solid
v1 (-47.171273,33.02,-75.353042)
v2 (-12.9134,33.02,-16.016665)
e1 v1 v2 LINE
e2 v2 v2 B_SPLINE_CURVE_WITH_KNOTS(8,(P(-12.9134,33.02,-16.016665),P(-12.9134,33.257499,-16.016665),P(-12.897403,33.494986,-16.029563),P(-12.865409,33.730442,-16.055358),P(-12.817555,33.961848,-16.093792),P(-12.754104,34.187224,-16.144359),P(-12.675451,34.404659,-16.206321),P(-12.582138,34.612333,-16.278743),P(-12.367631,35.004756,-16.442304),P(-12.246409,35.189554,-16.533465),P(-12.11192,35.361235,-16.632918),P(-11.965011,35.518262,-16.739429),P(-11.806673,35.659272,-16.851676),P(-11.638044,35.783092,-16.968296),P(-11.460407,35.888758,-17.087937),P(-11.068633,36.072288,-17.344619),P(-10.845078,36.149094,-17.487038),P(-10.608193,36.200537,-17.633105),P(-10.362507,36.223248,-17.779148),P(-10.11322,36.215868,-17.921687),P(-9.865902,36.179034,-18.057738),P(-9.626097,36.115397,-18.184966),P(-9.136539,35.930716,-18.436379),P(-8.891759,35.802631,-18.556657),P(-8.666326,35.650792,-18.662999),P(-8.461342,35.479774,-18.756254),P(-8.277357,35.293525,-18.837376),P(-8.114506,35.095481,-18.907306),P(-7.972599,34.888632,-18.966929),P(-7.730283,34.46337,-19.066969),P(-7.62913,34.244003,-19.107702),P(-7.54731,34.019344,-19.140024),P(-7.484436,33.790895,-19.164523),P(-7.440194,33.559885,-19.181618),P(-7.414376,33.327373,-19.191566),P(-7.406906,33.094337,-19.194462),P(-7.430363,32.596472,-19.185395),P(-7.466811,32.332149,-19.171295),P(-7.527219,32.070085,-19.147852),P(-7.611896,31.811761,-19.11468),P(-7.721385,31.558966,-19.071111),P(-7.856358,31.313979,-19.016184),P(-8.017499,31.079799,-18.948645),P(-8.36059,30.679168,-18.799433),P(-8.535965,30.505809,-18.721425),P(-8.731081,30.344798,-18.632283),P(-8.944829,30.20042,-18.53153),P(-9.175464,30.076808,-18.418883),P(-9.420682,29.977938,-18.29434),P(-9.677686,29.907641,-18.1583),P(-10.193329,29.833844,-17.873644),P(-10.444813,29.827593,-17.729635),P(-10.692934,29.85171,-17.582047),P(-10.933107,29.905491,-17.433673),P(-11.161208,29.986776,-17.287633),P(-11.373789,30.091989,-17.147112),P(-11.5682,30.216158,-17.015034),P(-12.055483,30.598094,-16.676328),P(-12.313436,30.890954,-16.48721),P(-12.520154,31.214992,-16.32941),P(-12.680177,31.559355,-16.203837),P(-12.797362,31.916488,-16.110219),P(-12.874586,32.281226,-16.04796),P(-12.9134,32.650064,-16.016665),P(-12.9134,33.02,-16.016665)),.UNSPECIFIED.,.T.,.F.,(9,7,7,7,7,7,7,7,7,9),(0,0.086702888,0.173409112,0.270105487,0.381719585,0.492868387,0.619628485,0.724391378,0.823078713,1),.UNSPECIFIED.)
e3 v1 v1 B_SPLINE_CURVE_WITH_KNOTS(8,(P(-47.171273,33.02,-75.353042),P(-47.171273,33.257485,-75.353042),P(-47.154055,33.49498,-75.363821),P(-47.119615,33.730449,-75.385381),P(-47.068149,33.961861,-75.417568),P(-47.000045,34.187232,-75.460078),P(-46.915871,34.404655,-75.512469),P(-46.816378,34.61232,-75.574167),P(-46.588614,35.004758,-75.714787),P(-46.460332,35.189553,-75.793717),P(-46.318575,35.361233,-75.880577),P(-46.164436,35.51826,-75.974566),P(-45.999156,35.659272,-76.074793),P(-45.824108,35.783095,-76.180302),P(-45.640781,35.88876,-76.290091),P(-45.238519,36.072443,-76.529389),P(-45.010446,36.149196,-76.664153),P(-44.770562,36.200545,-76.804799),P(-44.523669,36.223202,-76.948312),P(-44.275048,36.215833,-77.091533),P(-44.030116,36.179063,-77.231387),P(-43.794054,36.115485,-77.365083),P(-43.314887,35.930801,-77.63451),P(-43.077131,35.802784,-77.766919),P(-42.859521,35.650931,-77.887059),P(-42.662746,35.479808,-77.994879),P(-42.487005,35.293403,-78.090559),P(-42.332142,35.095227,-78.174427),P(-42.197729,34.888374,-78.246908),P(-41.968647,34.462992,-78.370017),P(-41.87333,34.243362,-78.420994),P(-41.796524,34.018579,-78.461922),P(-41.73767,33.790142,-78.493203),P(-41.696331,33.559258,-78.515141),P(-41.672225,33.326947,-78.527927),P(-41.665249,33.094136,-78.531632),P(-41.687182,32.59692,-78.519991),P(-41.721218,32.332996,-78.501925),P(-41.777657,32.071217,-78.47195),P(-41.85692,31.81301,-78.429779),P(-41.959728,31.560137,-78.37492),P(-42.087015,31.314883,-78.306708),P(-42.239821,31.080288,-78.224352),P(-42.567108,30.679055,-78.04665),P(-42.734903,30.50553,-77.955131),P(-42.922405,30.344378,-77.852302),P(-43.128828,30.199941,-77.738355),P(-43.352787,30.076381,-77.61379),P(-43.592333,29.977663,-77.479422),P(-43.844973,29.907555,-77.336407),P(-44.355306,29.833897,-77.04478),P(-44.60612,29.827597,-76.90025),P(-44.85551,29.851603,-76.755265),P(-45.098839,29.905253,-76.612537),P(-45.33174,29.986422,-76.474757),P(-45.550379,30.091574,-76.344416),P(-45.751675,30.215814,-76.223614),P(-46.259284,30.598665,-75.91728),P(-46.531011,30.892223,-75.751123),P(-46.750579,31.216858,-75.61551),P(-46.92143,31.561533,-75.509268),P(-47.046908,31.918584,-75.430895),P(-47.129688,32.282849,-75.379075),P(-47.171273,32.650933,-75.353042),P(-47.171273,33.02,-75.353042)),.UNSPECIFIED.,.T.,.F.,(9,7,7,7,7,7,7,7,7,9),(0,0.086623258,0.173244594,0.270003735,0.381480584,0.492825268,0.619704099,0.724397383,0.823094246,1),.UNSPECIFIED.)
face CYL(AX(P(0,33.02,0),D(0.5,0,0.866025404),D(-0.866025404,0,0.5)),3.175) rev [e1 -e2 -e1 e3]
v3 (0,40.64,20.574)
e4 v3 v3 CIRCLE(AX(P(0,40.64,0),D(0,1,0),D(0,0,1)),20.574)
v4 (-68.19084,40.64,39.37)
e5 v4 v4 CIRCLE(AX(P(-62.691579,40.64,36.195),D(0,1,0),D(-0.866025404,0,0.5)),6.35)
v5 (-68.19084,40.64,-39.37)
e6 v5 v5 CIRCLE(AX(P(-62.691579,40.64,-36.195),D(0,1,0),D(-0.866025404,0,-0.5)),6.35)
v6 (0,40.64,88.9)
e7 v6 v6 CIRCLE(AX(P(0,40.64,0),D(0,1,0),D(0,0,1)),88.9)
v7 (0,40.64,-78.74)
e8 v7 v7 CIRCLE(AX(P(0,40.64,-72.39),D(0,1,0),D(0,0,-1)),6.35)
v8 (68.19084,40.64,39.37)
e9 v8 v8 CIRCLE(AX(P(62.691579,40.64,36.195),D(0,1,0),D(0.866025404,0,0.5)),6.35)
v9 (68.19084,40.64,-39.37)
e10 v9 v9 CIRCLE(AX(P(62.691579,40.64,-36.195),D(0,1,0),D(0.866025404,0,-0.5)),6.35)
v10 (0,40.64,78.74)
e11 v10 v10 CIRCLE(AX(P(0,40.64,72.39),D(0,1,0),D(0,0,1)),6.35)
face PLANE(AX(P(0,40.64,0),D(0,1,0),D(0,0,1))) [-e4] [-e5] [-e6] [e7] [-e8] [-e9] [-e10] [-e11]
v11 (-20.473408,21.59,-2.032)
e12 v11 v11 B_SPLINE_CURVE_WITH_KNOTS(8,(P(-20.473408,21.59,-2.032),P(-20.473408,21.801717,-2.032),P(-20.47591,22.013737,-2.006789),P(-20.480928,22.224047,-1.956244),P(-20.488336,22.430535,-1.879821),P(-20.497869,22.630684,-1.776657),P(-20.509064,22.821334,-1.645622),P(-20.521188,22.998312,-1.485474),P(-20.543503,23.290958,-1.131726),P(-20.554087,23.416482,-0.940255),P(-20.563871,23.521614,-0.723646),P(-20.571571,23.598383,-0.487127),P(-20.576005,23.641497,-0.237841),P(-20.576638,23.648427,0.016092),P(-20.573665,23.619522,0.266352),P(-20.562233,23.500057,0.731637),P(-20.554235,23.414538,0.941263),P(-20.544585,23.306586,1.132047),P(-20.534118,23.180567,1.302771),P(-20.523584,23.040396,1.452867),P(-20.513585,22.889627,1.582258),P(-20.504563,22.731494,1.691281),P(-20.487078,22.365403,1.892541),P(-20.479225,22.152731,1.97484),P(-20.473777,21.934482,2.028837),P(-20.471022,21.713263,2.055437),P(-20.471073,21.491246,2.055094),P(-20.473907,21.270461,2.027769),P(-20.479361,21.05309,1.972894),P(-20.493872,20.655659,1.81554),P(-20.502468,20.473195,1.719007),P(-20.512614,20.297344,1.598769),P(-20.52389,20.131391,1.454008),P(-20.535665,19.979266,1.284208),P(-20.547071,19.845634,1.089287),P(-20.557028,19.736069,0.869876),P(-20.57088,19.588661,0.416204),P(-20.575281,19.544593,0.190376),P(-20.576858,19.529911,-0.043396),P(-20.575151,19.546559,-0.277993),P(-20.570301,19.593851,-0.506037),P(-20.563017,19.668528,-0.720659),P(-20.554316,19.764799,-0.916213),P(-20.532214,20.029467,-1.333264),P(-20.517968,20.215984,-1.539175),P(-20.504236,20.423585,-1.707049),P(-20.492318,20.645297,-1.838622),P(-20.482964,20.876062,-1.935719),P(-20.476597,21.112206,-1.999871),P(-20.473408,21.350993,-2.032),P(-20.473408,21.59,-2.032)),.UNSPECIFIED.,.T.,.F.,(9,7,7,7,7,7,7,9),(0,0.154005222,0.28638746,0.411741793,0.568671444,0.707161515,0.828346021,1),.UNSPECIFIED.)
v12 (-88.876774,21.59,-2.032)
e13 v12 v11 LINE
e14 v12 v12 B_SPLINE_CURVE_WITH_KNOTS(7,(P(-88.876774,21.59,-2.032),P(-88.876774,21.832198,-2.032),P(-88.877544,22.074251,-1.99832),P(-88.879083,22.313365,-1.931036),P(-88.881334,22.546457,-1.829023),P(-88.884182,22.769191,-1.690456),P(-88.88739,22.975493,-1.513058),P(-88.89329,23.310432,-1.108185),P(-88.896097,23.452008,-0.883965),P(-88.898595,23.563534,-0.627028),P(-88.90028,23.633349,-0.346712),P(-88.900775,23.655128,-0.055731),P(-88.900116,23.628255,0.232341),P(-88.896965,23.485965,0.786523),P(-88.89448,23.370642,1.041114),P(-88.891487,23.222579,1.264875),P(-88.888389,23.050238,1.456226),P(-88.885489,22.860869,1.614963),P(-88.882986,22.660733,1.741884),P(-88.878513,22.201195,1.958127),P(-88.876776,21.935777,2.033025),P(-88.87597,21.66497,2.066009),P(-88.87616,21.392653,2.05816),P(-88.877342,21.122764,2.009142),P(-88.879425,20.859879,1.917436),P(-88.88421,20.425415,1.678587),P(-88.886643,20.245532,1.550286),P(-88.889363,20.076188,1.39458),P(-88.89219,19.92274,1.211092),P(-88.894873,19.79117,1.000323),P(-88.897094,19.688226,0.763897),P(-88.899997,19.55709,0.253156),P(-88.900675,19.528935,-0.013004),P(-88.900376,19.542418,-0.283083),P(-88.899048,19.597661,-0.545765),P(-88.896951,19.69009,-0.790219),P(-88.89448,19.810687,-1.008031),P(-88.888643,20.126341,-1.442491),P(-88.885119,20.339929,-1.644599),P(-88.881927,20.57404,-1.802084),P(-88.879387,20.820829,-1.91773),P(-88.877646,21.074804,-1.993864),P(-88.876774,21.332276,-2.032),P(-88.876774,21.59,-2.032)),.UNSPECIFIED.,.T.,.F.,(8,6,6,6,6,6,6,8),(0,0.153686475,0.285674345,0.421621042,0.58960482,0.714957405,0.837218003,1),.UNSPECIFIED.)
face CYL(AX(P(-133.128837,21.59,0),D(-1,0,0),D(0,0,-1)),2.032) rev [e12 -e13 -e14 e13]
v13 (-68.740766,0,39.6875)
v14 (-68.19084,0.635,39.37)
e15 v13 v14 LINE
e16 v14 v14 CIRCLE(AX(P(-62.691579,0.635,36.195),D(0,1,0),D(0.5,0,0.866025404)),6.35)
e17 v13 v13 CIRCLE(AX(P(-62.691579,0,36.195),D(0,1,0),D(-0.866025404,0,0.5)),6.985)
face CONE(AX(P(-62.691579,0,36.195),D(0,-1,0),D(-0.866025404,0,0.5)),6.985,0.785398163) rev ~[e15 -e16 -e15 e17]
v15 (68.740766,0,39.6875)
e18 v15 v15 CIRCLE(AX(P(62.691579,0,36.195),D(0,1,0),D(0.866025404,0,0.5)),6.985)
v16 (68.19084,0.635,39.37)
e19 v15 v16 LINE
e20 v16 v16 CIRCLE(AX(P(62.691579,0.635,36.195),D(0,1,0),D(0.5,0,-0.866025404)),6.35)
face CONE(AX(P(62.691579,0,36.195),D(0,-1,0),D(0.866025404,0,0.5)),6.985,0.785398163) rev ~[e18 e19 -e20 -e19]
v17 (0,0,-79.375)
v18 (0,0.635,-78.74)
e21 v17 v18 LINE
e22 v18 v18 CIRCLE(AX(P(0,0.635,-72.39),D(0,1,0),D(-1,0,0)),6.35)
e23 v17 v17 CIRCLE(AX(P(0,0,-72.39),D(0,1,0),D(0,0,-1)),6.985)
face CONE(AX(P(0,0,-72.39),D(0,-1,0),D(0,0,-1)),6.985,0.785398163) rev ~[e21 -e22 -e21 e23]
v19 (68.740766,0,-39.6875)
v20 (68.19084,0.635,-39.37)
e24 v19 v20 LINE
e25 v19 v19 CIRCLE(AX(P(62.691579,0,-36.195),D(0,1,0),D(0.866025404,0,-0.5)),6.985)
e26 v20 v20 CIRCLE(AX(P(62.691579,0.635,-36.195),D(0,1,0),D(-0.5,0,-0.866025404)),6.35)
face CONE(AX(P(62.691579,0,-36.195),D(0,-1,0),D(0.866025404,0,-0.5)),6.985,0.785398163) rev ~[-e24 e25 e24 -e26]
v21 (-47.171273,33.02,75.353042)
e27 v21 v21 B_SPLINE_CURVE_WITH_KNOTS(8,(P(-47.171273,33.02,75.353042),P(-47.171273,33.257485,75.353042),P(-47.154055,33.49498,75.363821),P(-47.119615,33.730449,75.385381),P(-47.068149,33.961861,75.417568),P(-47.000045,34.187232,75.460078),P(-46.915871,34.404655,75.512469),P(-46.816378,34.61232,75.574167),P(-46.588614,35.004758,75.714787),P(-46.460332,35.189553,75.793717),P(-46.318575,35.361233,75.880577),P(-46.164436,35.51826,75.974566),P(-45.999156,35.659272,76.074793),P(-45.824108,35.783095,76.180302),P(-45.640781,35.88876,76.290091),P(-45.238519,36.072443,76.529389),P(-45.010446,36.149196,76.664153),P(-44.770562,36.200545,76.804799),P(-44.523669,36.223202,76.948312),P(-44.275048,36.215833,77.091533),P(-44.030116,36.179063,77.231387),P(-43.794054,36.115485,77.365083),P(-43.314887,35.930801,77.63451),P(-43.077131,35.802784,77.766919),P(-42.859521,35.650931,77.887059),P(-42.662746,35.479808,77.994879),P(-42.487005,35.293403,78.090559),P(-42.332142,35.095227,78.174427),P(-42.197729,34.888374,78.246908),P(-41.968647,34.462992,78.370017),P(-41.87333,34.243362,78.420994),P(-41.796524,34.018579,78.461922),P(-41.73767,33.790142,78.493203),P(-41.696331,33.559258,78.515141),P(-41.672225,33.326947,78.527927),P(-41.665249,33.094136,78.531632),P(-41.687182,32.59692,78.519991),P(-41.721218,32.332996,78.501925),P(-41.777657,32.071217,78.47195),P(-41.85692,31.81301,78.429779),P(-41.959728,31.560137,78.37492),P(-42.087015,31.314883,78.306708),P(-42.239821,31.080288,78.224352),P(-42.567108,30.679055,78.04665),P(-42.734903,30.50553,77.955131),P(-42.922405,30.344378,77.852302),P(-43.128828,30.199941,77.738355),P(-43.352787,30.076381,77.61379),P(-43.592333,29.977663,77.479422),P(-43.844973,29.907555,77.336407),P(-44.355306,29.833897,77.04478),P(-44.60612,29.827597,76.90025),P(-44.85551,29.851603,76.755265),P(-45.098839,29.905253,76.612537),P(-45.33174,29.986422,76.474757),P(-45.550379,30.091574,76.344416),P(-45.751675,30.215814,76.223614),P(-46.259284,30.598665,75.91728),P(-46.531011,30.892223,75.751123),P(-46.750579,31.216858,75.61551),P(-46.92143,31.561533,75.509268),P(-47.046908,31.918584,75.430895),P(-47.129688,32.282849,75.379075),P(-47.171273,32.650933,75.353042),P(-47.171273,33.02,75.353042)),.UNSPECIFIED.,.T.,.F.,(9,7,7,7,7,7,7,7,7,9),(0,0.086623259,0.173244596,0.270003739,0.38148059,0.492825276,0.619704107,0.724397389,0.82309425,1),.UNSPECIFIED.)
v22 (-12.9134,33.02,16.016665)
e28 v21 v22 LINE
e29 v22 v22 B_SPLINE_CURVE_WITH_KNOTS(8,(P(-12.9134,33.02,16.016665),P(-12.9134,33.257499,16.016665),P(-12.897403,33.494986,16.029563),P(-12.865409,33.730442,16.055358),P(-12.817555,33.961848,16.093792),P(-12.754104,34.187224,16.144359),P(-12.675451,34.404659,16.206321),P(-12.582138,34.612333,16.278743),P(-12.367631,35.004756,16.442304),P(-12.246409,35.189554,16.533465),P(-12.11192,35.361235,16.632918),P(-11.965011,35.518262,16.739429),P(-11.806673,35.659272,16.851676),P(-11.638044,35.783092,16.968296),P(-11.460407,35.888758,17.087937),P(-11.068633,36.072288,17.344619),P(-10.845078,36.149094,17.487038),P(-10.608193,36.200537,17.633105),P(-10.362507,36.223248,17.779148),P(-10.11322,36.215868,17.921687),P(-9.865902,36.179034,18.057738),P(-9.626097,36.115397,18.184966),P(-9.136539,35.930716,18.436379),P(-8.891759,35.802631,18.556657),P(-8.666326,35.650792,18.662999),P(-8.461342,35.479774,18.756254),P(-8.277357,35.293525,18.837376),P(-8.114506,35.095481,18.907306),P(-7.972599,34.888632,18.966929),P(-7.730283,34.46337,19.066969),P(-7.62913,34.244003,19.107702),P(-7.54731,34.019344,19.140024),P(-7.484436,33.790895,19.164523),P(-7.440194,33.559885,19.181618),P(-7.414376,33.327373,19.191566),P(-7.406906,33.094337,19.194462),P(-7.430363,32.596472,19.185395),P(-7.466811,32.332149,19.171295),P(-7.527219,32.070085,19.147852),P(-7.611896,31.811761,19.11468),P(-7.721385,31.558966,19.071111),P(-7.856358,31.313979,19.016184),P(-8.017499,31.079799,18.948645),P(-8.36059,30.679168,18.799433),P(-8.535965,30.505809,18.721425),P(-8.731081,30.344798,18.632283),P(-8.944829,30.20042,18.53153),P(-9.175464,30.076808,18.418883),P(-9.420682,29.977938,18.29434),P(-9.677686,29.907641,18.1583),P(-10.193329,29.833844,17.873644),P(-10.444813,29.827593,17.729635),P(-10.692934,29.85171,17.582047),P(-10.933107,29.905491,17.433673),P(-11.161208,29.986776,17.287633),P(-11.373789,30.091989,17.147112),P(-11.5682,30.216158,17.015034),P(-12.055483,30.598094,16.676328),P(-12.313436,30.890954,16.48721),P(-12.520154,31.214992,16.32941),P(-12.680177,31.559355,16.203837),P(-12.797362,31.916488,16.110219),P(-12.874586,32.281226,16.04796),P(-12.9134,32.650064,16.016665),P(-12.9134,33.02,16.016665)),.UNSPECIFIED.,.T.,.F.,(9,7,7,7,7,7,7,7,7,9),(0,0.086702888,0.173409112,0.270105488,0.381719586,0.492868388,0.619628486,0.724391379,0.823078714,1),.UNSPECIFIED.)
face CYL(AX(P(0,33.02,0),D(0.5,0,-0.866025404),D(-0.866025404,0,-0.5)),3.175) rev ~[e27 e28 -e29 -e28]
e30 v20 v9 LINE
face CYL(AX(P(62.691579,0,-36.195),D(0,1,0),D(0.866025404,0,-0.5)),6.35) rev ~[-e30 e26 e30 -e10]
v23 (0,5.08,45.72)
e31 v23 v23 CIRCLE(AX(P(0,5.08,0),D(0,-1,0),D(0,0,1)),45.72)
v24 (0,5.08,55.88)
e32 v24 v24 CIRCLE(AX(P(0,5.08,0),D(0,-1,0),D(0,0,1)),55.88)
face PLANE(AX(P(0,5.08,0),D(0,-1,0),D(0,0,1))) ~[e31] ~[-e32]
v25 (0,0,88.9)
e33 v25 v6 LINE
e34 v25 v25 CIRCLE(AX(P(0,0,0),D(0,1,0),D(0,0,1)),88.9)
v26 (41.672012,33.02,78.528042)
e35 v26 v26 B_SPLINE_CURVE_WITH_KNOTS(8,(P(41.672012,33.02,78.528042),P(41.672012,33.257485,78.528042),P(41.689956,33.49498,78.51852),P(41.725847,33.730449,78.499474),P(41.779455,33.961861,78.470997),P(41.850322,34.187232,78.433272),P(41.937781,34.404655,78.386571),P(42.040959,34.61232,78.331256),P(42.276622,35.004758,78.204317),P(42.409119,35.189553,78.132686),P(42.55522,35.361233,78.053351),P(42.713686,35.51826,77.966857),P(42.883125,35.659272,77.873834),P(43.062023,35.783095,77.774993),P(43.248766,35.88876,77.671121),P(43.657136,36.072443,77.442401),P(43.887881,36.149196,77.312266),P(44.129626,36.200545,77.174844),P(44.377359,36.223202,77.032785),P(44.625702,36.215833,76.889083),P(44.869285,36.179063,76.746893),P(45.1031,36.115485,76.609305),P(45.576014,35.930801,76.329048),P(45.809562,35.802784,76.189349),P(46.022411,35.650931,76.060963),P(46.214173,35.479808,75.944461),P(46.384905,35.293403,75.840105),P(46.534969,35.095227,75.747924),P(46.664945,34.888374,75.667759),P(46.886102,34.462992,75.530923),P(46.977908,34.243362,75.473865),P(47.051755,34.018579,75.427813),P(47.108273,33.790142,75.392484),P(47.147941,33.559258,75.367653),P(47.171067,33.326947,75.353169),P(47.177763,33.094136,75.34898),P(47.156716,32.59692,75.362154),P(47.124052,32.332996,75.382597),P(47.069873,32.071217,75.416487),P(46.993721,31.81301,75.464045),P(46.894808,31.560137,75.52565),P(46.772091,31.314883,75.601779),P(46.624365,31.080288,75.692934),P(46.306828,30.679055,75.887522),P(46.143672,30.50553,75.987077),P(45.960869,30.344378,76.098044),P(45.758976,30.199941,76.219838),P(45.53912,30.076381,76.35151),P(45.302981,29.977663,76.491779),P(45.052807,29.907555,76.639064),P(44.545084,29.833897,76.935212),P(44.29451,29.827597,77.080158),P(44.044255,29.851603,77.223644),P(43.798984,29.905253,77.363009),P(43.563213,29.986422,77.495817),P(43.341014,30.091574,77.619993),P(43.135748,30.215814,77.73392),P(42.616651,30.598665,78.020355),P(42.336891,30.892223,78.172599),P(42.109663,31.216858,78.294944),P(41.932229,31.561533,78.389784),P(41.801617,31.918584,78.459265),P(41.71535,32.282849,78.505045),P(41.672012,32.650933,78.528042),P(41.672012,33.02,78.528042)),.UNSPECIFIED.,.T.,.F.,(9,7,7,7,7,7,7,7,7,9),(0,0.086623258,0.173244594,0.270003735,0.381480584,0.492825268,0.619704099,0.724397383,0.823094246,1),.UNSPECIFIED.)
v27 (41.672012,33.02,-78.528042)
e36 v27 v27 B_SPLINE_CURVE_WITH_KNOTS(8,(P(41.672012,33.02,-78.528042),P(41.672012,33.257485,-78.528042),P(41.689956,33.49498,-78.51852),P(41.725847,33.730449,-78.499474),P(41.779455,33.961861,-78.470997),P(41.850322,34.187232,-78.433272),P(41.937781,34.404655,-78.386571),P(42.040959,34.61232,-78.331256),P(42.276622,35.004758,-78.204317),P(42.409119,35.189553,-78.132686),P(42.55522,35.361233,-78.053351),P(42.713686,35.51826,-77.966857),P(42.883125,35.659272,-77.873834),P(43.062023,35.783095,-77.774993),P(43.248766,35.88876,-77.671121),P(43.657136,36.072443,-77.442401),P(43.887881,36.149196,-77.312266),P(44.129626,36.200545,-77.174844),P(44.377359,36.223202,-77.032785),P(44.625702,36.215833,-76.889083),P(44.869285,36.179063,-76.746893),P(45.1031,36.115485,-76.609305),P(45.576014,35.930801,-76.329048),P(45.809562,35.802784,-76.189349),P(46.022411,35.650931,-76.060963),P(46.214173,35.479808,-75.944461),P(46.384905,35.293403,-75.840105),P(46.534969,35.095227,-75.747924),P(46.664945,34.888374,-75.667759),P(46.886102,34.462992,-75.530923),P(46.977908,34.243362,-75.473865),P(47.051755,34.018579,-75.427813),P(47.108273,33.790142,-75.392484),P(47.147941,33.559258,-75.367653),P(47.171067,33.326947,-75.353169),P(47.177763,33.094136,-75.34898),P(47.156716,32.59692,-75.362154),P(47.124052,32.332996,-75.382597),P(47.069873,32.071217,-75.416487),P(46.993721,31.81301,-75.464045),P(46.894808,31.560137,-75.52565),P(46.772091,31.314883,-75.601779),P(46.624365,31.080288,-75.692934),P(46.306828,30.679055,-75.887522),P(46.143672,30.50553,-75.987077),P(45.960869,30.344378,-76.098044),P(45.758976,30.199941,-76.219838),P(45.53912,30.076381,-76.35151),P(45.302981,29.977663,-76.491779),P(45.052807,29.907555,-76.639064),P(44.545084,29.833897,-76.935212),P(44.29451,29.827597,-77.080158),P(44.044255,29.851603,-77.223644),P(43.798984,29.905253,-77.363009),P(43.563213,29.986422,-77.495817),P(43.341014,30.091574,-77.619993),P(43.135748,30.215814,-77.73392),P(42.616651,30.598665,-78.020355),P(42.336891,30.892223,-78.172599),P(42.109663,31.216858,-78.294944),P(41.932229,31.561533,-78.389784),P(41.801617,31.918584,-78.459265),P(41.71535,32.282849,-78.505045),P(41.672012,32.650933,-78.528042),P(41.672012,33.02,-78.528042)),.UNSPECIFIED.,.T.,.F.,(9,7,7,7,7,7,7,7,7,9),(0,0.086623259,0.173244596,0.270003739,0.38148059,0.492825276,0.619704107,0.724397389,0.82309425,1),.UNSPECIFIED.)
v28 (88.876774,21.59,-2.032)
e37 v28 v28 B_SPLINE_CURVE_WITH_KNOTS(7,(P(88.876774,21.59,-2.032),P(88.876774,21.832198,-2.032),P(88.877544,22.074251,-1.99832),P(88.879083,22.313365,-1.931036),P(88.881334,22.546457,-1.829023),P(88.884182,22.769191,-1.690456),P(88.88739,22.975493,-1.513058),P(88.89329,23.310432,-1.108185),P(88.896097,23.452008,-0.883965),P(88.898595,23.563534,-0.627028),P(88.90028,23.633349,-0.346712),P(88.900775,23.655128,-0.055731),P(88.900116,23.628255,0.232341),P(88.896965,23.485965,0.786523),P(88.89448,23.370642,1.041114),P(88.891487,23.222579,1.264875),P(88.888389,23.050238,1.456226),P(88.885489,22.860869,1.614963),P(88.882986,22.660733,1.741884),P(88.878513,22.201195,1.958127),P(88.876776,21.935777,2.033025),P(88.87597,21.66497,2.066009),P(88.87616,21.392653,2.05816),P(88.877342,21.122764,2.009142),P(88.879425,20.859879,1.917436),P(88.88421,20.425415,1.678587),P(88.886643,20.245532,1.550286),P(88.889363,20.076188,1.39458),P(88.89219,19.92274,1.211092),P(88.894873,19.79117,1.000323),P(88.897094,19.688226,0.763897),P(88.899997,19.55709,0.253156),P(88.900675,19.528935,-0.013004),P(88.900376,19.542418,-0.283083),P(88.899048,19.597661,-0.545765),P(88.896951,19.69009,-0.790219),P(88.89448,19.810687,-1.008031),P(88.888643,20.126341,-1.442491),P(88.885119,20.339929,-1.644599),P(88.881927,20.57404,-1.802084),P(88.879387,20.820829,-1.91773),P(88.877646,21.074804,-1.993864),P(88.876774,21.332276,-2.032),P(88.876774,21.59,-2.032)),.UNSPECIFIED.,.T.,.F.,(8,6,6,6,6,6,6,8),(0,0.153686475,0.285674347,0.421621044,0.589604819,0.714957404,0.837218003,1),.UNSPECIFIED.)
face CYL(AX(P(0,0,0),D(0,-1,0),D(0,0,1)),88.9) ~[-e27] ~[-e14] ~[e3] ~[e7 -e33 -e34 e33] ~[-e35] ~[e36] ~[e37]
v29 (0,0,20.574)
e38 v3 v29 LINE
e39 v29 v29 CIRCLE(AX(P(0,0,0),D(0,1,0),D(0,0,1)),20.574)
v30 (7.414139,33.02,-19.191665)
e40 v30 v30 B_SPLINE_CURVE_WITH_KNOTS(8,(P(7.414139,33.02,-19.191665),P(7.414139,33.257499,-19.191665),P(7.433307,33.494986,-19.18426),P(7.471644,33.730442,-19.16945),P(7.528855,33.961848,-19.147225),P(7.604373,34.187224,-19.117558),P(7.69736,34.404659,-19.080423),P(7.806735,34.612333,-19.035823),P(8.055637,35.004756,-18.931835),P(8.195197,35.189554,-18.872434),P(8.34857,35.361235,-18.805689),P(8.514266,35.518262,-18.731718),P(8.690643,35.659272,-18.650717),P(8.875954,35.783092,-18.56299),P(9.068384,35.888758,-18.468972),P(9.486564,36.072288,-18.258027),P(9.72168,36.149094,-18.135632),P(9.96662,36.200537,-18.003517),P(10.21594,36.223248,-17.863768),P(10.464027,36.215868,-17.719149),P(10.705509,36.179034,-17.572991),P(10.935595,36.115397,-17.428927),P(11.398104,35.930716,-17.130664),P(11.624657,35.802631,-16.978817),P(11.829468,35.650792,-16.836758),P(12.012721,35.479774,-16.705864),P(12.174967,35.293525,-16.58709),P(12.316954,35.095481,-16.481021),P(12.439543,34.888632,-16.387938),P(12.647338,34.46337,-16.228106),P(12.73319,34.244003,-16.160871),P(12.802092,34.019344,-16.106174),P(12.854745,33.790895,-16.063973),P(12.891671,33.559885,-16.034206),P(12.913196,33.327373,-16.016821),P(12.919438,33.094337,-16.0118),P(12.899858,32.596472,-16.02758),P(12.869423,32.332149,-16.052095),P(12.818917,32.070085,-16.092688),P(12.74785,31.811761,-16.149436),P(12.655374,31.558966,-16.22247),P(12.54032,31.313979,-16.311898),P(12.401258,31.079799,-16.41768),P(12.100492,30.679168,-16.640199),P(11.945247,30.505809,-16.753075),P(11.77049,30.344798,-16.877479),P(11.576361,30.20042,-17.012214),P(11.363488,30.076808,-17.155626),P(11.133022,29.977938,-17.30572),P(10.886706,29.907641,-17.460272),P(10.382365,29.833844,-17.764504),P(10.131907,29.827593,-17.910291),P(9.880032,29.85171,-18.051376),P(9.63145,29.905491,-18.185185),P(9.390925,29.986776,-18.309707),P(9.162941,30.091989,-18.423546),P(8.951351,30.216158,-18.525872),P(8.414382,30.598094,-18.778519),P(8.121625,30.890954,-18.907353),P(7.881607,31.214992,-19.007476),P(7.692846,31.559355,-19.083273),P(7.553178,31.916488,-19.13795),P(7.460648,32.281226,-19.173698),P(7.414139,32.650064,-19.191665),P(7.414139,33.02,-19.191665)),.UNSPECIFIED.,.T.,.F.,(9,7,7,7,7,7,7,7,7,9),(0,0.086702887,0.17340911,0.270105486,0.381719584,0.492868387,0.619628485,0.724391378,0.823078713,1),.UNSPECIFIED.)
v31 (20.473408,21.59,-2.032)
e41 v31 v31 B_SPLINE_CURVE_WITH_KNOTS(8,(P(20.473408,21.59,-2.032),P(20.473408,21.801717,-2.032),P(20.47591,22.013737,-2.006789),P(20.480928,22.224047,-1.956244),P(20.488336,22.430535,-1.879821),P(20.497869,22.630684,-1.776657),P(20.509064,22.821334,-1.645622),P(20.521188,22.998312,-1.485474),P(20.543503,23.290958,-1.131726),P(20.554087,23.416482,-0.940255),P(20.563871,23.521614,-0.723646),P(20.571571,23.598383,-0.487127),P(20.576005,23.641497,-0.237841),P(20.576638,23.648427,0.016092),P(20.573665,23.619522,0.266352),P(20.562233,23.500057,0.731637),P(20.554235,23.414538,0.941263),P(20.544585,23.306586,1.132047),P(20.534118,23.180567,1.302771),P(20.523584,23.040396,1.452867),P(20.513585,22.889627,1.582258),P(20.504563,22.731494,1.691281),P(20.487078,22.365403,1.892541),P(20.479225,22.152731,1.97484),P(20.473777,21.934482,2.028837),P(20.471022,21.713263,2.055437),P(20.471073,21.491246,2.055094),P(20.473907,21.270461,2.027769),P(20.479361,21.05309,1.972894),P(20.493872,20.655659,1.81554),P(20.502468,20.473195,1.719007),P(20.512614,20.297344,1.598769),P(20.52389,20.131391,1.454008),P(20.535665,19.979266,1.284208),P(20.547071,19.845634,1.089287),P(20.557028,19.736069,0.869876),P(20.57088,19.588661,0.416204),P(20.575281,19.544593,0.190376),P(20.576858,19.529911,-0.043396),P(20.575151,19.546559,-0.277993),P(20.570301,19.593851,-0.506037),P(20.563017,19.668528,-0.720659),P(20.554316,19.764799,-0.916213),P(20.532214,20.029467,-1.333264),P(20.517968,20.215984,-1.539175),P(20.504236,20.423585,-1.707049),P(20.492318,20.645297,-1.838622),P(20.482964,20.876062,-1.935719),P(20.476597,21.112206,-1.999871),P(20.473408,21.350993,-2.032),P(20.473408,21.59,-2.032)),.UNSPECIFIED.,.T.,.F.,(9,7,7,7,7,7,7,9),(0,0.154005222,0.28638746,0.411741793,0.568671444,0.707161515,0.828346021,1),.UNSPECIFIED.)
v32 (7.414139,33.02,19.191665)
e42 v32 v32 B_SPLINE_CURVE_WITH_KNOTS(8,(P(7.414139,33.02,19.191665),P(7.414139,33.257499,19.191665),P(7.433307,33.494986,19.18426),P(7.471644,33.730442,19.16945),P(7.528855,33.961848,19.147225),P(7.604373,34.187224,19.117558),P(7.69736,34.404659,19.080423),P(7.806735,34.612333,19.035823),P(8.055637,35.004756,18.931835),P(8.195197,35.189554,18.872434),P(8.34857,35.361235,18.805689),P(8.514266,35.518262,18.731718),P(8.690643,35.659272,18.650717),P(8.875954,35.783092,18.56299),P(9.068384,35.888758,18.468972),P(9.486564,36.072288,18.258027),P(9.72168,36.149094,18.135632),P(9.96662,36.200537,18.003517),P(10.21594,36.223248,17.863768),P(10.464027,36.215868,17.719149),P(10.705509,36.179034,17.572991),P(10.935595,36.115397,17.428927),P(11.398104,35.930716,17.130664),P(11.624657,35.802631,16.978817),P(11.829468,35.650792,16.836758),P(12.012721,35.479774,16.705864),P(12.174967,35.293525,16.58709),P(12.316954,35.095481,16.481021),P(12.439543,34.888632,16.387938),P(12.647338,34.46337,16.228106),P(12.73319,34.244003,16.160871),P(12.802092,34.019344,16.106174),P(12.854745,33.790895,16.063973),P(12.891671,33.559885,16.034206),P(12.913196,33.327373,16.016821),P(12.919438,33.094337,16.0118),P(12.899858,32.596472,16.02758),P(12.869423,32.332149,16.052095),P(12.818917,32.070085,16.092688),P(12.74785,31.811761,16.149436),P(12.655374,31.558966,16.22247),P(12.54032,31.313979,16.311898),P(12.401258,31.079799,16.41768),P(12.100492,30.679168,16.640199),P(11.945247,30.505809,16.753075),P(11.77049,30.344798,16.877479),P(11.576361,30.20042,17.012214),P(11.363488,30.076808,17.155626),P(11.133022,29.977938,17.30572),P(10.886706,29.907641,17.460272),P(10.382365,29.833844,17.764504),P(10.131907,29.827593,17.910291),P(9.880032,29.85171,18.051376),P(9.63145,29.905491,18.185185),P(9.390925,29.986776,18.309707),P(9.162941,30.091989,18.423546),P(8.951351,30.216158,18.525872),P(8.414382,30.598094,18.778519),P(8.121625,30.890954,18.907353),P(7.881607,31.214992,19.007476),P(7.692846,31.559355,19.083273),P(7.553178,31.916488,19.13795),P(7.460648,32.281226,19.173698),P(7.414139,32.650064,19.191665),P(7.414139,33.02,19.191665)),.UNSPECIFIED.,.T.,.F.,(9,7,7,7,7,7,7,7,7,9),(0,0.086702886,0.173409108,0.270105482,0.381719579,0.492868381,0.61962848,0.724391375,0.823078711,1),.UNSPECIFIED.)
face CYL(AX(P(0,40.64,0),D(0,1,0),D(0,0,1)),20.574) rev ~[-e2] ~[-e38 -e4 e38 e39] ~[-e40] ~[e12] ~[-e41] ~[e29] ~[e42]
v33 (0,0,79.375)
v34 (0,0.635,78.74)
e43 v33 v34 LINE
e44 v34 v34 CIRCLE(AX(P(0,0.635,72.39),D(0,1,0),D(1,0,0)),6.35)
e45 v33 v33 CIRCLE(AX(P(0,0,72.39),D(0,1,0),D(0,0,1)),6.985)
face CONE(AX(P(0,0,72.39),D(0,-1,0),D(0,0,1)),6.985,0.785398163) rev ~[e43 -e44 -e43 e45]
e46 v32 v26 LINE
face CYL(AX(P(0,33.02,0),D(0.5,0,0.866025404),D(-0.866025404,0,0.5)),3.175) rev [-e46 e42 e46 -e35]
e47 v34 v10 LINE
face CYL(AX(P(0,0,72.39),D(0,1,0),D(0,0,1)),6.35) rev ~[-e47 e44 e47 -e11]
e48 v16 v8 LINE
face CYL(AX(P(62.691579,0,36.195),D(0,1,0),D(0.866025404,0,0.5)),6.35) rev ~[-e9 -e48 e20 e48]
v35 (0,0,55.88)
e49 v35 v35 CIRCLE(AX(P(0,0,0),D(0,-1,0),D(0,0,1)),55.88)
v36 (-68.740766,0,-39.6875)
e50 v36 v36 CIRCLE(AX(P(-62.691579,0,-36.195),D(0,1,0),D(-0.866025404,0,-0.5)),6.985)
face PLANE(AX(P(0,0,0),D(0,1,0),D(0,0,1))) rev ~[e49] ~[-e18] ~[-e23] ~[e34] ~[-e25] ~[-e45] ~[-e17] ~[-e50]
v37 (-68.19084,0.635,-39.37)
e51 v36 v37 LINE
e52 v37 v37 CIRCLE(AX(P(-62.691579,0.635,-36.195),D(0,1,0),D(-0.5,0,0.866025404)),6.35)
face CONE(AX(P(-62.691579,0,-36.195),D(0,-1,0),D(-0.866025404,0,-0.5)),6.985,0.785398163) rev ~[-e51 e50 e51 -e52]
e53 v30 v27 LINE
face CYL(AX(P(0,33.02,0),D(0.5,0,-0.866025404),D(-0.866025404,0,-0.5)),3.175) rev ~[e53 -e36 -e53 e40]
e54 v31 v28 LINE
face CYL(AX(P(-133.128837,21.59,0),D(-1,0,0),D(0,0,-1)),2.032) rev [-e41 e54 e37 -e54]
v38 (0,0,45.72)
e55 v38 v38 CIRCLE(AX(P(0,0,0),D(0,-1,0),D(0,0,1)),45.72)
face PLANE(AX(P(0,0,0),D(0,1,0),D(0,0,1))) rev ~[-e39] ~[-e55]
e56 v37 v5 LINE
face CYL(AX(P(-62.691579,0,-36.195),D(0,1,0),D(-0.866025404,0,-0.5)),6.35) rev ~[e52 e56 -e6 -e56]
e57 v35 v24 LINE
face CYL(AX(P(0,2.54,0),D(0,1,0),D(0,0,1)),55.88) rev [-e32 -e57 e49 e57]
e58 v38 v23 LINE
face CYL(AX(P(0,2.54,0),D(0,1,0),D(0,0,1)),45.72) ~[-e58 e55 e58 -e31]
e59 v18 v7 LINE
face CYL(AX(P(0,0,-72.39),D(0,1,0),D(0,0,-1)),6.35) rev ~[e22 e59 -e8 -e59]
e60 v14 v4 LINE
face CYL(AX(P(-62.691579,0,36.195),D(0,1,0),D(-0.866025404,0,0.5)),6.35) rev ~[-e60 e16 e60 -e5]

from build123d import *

# Parameters (mm, degrees)
SKETCH1_R                            = 88.9
BOSS_EXTRUDE1_DEPTH                  = 40.64
SKETCH2_R                            = 20.574
CUT_EXTRUDE1_DEPTH                   = 133.128837125
CUT_EXTRUDE4_DEPTH                   = 133.128837125
CUT_EXTRUDE4_DEPTH_BACK              = 133.128837125
SKETCH3_R                            = 2.032
SKETCH6_R                            = 3.175
CUT_EXTRUDE5_DEPTH                   = 133.128837297
F_1_2_0_5_DIAMETER_HOLE1_D           = 12.7
F_1_2_0_5_DIAMETER_HOLE1_CSINK_D     = 13.97
F_1_2_0_5_DIAMETER_HOLE1_CSINK_ANGLE = 90
CIRPATTERN1_COUNT                    = 6
SKETCH9_W                            = 10.16
SKETCH9_H                            = 5.08


with BuildPart() as part:
    # Sketch1 → Boss-Extrude1 (new body)
    with BuildSketch(Plane(origin=(0, 0, 0), x_dir=(1, 0, 0), z_dir=(0, 1, 0))):
        with Locations(Location((0, 0, 0), (0, 0, 270))):
            Circle(SKETCH1_R)
    extrude(amount=BOSS_EXTRUDE1_DEPTH)

    # Sketch2 → Cut-Extrude1 (cut, through all)
    with BuildSketch(Plane(origin=(0, 40.64, 0), x_dir=(1, 0, 0), z_dir=(0, 1, 0))):
        with Locations(Location((0, 0, 0), (0, 0, 270))):
            Circle(SKETCH2_R)
    extrude(amount=-CUT_EXTRUDE1_DEPTH, mode=Mode.SUBTRACT)

    # Sketch3 → Cut-Extrude4 (cut, two sides: drawn at the far end of the back side and taken through both)
    with BuildSketch(Plane(origin=(0, 0, 0), x_dir=(0, 0, -1), z_dir=(1, 0, 0)).offset(-CUT_EXTRUDE4_DEPTH_BACK)):
        with Locations((0, 21.59)):
            Circle(SKETCH3_R)
    extrude(amount=CUT_EXTRUDE4_DEPTH + CUT_EXTRUDE4_DEPTH_BACK, mode=Mode.SUBTRACT)

    # Sketch6 → Cut-Extrude5 (cut, symmetric)
    with BuildSketch(Plane(origin=(0, 0, 0), x_dir=(0, 1, 0), z_dir=(0.499999999999998, 0, -0.8660254037844398))):
        with Locations(Location((33.02, 0, 0), (0, 0, 270))):
            Circle(SKETCH6_R)
    cut_extrude5 = extrude(amount=CUT_EXTRUDE5_DEPTH, both=True, mode=Mode.SUBTRACT)

    # Mirror1: Cut-Extrude5 across plane
    add(cut_extrude5.mirror(Plane.XY), mode=Mode.SUBTRACT)

    # 1/2 (0.5) Diameter Hole1 (through all)
    with Locations(Plane(origin=(0, 0, 72.39), x_dir=(0, 0, -1), z_dir=(0, -1, 0))):
        with Locations((0, 0)):
            f_1_2_0_5_diameter_hole1 = CounterSinkHole(F_1_2_0_5_DIAMETER_HOLE1_D / 2, F_1_2_0_5_DIAMETER_HOLE1_CSINK_D / 2, counter_sink_angle=F_1_2_0_5_DIAMETER_HOLE1_CSINK_ANGLE)

    # CirPattern1: 1/2 (0.5) Diameter Hole1 ×6 about axis
    cirpattern1_axis = Axis((0, 0, 0), (0, 1, 0))
    for i in range(1, CIRPATTERN1_COUNT):
        add(f_1_2_0_5_diameter_hole1.rotate(cirpattern1_axis, i * 360 / CIRPATTERN1_COUNT), mode=Mode.SUBTRACT)

    # Sketch9 → Cut-Revolve1 (revolve, cut)
    with BuildSketch(Plane.XY, mode=Mode.PRIVATE) as cut_revolve1_sk:
        with Locations((50.8, 2.54)):
            Rectangle(SKETCH9_W, SKETCH9_H)
    revolve(cut_revolve1_sk.sketch.rotate(Axis((0, 40.64, 0), (0, -1, 0)), 90), axis=Axis((0, 40.64, 0), (0, -1, 0)), mode=Mode.SUBTRACT)


solid = part.part
